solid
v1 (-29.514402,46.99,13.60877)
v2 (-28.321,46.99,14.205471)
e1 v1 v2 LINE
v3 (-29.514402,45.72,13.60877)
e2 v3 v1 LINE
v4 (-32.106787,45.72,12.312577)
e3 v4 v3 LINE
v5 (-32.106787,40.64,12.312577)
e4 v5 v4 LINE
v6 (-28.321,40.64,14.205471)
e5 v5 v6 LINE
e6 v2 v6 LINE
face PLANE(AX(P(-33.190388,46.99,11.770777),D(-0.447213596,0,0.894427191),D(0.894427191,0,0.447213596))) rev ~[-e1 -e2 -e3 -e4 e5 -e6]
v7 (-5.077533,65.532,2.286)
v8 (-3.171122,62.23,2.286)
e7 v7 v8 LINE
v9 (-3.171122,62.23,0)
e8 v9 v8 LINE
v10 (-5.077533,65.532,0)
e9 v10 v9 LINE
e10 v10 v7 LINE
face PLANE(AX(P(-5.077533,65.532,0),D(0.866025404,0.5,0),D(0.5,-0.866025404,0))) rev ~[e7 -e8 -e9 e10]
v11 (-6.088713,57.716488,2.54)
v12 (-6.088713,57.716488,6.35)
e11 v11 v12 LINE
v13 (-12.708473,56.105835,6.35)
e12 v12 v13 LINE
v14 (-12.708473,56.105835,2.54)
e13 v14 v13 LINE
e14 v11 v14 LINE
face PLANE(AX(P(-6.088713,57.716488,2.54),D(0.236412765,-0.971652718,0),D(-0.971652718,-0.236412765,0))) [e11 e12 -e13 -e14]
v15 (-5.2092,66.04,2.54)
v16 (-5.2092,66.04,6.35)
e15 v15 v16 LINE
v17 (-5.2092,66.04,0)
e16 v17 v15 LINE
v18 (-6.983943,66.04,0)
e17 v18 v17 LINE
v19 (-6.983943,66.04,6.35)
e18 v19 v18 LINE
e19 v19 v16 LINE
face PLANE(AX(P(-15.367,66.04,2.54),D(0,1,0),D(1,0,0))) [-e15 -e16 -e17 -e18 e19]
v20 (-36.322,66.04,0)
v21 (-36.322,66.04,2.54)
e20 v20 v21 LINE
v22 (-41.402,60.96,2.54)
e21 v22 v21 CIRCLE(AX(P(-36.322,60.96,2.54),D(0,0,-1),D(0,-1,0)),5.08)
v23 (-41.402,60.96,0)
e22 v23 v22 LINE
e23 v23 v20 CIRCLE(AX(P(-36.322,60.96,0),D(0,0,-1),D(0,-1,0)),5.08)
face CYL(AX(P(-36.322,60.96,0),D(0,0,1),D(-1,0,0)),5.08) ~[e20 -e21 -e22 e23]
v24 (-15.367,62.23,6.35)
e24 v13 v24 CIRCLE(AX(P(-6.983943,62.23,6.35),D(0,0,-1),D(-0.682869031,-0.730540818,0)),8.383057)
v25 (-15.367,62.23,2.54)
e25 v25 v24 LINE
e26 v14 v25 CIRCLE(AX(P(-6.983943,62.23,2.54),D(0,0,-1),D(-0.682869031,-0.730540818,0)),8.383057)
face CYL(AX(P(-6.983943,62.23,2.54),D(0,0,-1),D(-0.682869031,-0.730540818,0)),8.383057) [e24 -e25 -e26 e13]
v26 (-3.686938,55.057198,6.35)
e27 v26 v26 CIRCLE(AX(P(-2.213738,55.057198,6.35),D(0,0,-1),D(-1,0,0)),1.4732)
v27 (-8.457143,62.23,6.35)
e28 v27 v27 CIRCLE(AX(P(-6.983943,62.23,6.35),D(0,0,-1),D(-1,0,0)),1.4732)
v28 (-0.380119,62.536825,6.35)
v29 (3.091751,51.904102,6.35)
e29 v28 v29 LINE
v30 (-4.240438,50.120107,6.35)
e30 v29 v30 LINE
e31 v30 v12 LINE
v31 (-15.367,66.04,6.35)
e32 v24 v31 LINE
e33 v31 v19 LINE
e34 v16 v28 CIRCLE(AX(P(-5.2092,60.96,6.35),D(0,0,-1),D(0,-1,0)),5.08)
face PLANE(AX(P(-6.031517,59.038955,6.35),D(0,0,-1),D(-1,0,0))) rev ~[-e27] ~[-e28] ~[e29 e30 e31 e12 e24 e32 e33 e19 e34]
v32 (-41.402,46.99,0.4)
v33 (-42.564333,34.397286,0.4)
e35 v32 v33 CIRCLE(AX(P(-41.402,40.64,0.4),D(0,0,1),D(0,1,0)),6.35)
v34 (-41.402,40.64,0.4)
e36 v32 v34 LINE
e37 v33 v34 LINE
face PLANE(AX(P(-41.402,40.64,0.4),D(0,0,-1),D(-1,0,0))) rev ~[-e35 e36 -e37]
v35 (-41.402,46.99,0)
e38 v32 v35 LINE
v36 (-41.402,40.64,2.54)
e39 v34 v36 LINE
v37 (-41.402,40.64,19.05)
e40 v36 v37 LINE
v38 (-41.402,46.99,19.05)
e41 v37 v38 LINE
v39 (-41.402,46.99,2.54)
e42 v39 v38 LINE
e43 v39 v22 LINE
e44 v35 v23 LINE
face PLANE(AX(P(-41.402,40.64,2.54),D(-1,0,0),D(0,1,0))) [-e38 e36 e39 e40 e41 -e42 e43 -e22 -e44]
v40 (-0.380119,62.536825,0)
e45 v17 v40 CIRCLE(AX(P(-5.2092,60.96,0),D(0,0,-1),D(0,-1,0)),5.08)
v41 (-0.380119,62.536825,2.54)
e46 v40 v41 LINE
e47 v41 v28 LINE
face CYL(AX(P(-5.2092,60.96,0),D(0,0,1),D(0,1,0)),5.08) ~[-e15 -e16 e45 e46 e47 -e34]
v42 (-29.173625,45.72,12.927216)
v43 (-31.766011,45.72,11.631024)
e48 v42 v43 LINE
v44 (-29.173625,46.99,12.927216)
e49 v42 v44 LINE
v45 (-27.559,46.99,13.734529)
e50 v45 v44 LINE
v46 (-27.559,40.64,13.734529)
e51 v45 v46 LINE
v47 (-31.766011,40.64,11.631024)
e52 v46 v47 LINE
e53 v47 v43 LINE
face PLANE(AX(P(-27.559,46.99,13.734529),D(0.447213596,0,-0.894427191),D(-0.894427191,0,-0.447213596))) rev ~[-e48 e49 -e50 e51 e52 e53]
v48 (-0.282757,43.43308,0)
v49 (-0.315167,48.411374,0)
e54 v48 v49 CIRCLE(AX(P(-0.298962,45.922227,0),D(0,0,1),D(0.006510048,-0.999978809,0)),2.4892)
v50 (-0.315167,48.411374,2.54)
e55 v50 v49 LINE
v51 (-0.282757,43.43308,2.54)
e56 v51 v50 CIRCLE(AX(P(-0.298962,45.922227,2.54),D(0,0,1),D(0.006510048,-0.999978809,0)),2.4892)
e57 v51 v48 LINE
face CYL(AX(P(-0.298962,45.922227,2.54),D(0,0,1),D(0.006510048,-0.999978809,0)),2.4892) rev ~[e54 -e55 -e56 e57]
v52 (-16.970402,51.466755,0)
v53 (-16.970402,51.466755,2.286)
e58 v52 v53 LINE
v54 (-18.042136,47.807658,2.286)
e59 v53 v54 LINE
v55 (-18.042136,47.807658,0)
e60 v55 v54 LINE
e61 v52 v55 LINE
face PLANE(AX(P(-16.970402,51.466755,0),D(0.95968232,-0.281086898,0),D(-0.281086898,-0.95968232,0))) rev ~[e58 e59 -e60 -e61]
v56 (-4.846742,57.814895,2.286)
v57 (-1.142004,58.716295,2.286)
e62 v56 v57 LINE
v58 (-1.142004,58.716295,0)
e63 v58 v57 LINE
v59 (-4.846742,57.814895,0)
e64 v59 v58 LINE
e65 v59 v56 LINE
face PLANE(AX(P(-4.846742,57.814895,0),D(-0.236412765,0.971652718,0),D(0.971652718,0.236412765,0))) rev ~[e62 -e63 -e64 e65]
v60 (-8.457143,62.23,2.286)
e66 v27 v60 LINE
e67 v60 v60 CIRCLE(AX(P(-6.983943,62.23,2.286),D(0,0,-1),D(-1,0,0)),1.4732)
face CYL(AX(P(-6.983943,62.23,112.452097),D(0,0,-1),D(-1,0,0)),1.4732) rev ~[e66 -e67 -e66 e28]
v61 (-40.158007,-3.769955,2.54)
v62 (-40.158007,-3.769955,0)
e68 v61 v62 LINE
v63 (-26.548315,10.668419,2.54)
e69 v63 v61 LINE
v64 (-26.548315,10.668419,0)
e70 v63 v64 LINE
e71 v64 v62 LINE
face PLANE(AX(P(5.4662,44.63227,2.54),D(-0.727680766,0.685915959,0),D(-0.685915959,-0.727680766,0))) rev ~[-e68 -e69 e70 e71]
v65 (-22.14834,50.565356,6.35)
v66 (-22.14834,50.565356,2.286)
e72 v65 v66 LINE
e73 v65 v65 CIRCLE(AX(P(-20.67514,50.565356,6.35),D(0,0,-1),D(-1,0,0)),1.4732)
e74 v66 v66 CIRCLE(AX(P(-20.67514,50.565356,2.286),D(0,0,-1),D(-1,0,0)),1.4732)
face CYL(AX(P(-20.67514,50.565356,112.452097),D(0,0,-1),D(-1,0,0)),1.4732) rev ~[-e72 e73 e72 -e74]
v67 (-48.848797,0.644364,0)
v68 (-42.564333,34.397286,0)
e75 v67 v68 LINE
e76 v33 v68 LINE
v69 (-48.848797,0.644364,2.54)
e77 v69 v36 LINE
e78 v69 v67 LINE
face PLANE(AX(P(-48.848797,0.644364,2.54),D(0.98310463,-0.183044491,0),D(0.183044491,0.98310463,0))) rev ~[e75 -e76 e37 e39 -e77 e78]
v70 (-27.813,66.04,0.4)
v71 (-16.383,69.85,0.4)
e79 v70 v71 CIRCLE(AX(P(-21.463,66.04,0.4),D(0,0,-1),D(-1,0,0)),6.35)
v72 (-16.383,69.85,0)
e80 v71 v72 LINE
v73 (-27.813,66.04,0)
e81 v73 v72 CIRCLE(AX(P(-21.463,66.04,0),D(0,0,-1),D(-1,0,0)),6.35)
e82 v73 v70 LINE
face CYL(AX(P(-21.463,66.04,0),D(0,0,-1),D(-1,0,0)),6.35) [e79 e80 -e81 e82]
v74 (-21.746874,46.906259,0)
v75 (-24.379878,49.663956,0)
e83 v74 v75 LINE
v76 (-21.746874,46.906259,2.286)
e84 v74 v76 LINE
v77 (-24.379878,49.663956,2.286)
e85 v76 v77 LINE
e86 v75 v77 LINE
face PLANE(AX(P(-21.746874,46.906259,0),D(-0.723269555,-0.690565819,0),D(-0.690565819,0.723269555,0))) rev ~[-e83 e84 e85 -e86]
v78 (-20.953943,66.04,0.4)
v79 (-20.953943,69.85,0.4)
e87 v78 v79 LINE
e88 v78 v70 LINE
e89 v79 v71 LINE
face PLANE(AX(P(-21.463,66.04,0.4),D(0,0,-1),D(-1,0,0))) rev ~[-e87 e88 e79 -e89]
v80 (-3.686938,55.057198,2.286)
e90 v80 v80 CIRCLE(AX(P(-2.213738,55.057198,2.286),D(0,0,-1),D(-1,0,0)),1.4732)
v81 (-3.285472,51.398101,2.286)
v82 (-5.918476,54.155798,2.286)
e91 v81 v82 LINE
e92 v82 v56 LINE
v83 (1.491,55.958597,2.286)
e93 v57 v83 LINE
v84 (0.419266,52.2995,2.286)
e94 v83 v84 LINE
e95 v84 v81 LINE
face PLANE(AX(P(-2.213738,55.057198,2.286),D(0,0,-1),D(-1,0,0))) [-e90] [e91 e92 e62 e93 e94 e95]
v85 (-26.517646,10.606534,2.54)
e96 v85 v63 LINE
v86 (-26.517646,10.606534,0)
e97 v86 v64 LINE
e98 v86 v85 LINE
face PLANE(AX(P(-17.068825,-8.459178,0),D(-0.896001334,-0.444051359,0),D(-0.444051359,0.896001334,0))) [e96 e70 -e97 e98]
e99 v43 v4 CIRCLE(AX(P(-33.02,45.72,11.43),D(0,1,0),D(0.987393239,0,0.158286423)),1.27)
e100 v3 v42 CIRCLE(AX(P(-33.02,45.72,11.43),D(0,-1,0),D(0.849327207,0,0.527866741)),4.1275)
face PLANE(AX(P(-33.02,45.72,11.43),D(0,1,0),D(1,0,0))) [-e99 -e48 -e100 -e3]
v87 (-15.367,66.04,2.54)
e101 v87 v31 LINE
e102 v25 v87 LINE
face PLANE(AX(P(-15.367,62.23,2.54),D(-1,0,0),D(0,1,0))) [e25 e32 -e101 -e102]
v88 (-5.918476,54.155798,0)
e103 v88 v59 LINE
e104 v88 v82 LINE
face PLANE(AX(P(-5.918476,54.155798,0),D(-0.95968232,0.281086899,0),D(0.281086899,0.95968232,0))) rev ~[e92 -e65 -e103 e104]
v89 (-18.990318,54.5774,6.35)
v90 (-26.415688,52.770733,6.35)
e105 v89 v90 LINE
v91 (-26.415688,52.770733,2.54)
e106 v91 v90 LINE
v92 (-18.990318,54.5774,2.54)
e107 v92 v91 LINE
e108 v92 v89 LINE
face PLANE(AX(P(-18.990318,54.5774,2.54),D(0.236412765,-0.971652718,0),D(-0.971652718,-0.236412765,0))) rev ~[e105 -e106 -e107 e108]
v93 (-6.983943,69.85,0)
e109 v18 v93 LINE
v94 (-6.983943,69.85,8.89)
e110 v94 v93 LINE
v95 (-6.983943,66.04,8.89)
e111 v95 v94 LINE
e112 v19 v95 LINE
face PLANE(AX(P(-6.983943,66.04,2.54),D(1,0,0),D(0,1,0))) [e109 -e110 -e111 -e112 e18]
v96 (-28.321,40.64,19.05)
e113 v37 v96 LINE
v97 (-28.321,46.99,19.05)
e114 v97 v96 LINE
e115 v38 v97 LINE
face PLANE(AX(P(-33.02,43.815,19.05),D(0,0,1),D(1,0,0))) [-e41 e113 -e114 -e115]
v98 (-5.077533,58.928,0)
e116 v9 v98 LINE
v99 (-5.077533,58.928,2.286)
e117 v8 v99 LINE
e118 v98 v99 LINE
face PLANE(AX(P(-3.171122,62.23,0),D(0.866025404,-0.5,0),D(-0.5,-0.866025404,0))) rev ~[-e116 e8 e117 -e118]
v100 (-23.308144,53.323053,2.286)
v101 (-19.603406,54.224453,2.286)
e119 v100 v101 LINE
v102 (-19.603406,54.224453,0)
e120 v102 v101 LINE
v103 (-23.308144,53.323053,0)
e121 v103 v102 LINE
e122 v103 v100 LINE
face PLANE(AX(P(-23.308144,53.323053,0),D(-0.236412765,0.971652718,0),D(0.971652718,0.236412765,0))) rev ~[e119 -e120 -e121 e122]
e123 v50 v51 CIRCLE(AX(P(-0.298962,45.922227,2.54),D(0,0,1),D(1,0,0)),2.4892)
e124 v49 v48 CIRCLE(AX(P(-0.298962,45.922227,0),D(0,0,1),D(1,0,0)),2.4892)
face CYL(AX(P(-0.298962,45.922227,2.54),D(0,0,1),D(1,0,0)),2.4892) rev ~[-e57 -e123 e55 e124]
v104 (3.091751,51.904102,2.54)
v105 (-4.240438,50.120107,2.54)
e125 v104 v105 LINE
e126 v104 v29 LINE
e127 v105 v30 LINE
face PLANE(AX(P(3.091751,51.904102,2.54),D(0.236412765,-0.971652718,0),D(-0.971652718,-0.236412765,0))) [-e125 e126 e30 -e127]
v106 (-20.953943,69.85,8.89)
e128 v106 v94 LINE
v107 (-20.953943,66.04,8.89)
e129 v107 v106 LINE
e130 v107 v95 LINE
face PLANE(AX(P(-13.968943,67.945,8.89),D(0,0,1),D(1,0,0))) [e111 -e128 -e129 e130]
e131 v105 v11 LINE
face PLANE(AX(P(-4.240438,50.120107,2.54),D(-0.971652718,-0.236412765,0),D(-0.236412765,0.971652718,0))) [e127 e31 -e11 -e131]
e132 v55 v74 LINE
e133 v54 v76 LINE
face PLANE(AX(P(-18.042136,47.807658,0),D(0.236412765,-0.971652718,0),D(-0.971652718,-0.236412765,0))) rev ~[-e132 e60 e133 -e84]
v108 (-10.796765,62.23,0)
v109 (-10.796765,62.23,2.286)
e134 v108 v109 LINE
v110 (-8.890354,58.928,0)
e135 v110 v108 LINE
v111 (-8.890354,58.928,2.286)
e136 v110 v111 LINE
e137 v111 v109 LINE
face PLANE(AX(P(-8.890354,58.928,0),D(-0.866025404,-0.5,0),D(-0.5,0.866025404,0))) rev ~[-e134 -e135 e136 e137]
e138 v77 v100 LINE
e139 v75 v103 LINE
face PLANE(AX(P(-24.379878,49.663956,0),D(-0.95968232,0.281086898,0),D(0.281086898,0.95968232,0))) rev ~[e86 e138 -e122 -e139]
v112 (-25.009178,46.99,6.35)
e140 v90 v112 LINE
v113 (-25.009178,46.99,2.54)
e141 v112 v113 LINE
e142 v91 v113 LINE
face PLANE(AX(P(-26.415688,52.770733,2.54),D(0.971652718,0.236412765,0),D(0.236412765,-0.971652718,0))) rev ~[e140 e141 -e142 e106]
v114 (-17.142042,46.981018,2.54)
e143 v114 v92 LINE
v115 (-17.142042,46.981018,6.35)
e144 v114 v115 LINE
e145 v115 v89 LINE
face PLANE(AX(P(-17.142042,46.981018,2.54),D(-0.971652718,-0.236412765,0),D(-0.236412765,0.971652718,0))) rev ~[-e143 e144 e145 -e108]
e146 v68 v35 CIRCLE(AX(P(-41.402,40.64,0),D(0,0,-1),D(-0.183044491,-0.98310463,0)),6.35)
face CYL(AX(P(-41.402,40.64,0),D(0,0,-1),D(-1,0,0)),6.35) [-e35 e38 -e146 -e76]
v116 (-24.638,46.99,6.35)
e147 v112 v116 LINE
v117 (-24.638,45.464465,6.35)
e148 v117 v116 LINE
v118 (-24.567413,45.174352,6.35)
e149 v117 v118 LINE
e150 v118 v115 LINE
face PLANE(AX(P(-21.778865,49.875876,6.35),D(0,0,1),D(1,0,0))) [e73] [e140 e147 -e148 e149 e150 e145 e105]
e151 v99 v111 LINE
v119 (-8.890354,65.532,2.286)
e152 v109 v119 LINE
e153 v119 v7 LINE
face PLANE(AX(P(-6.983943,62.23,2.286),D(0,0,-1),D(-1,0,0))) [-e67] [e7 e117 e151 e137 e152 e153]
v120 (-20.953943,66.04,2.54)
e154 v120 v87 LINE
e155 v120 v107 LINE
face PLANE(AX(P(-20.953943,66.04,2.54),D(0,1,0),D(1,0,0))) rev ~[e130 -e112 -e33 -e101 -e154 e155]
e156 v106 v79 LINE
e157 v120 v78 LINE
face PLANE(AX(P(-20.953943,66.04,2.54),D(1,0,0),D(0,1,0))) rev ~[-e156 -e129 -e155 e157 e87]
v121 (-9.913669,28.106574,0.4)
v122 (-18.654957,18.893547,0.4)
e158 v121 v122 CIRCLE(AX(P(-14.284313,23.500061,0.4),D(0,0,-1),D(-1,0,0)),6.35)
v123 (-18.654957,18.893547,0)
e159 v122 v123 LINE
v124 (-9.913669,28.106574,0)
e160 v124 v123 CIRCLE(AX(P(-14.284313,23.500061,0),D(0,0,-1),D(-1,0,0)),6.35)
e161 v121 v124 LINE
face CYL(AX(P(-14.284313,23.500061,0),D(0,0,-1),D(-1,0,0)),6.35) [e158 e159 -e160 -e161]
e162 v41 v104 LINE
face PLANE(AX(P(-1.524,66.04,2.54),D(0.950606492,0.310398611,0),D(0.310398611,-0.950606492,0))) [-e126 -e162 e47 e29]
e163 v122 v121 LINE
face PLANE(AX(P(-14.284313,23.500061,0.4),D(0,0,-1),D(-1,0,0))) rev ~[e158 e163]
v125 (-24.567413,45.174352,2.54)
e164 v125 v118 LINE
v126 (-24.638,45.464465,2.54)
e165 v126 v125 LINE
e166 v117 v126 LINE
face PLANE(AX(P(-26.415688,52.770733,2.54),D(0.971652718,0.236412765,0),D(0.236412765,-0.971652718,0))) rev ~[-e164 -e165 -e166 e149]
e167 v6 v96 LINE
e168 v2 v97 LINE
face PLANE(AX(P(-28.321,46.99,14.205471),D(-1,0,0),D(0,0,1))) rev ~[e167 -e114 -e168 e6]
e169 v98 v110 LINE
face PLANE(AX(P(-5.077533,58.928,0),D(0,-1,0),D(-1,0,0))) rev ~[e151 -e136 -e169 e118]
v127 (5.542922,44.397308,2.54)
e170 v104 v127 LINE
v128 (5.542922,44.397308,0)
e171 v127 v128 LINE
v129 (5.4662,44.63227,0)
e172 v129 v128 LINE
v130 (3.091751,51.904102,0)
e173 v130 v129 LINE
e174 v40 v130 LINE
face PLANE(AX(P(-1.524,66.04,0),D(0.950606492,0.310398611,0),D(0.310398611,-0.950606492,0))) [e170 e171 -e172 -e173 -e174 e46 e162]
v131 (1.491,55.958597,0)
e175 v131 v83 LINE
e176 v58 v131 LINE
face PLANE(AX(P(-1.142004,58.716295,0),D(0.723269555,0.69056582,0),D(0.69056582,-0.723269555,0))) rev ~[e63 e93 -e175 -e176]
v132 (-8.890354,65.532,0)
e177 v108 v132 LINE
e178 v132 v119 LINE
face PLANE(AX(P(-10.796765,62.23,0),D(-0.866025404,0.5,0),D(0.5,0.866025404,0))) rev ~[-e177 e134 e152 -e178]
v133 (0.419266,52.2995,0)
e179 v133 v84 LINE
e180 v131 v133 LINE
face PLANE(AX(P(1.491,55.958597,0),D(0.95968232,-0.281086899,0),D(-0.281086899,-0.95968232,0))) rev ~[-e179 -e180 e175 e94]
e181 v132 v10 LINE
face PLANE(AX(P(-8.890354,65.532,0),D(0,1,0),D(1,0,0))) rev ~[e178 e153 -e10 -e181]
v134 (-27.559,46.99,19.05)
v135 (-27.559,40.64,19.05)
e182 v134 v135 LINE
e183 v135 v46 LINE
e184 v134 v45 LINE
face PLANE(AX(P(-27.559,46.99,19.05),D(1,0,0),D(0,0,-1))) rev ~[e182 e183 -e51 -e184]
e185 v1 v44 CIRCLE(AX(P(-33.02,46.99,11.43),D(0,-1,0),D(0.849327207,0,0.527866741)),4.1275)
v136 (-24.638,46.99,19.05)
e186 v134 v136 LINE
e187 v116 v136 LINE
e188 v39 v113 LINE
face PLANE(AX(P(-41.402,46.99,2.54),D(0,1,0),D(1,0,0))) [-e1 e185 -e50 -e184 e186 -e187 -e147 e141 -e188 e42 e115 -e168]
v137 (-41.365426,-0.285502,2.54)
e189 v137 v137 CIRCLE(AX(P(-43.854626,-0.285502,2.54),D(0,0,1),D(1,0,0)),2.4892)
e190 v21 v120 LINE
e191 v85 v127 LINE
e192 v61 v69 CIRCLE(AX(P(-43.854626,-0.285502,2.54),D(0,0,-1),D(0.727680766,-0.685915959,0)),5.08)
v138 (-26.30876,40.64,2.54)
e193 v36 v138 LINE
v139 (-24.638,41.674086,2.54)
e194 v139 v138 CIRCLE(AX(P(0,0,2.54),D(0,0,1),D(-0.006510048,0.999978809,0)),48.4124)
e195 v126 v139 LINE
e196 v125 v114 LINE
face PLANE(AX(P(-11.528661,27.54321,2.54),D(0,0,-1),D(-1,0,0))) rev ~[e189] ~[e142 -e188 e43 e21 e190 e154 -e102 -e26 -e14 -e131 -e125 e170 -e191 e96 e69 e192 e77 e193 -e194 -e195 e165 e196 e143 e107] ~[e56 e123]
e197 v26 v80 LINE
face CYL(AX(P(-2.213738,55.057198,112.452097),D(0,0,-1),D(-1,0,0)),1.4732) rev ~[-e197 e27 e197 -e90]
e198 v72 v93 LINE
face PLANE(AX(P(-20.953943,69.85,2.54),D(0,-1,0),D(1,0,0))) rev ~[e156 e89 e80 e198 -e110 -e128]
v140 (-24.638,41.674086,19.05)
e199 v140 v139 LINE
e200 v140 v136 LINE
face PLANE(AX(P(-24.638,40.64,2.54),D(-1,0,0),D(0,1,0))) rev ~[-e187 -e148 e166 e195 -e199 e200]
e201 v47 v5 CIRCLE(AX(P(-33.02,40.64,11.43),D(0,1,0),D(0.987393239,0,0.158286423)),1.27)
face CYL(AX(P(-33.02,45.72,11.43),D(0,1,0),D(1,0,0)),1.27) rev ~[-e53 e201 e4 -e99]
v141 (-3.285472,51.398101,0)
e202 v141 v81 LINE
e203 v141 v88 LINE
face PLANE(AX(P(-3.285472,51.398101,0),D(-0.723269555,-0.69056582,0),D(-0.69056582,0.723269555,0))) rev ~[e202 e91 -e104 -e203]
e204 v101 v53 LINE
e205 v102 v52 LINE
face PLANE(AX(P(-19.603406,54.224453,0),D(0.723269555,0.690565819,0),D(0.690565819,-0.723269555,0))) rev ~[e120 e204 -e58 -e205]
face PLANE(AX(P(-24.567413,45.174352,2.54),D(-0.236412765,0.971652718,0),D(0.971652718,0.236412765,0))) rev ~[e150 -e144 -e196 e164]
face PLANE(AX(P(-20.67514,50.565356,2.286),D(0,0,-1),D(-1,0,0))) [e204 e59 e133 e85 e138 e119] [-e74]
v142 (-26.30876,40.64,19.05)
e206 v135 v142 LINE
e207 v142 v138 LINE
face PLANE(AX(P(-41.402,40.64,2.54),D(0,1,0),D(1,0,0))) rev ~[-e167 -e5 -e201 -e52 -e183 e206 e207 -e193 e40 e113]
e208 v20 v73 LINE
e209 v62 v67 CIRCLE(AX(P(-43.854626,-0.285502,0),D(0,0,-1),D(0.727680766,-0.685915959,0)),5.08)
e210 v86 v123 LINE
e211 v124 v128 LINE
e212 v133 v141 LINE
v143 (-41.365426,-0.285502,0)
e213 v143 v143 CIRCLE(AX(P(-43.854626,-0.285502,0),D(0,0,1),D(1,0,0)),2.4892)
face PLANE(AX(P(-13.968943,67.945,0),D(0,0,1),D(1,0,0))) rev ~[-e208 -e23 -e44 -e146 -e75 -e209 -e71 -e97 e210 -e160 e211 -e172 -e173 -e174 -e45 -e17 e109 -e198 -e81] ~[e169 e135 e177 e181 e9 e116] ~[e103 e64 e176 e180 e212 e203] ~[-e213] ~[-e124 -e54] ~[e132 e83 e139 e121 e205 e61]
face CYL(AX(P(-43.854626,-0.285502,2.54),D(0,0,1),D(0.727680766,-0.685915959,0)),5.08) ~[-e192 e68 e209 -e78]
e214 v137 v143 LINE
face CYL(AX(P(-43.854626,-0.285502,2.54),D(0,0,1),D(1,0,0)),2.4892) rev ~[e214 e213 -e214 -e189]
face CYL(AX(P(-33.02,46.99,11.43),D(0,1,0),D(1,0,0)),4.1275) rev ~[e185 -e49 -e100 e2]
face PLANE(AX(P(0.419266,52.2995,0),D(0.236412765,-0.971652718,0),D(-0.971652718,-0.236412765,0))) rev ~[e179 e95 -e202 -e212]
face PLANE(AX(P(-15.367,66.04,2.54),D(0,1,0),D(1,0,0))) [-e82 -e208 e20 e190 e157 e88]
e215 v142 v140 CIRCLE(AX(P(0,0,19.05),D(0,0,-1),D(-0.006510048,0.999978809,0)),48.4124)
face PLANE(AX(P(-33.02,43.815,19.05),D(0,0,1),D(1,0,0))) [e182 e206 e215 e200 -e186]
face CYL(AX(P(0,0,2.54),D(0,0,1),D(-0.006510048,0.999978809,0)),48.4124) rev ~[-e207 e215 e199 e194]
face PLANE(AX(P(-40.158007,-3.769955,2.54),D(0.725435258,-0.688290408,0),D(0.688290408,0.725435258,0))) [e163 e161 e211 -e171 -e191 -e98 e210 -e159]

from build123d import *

# Parameters (mm, degrees)
SKETCH2_R                = 3.81
BOSS_EXTRUDE1_DEPTH      = 2.54
SKETCH5_W                = 16.764
SKETCH5_H                = 6.35
BOSS_EXTRUDE2_DEPTH      = 16.51
SKETCH6_R                = 4.1275
CUT_EXTRUDE2_DEPTH       = 1.27
SKETCH7_R                = 1.27
CUT_EXTRUDE3_DEPTH       = 65.77
CUT_EXTRUDE4_DEPTH       = 2.286
BOSS_EXTRUDE3_DEPTH      = 3.81
F_4_CLEARANCE_HOLE1_D    = 2.9464
SKETCH14_W               = 13.97
SKETCH14_H               = 3.81
BOSS_EXTRUDE6_DEPTH      = 6.35
BOSS_EXTRUDE6_DEPTH_BACK = 2.54
FILLET1_R                = 5.08
CUT_EXTRUDE5_DEPTH       = 17.51
CUT_EXTRUDE5_DEPTH_BACK  = 3.54
SKETCH19_R               = 2.4892
BOSS_EXTRUDE8_DEPTH      = 2.54
CUT_EXTRUDE8_DEPTH       = 2.54
CUT_EXTRUDE9_DEPTH       = 53.355501773
SKETCH13_R               = 6.35
PRINT_TABS_DEPTH         = 0.4


with BuildPart() as part:
    # Sketch2 → Boss-Extrude1 (new body)
    with BuildSketch(Plane.XY):
        with BuildLine():
            Line((-17.068825413, -8.459178389), (-41.402, 40.64))
            Line((-41.402, 40.64), (-41.402, 66.04))
            Line((-41.402, 66.04), (-1.524, 66.04))
            Line((-1.524, 66.04), (18.109053667, 5.913093546))
            ThreePointArc((18.109053667, 5.913093546), (7.204933647, -17.634949139), (-17.068825413, -8.459178389))
        make_face()
        Circle(SKETCH2_R, mode=Mode.SUBTRACT)
    extrude(amount=BOSS_EXTRUDE1_DEPTH)

    # Sketch5 → Boss-Extrude2 (add)
    with BuildSketch(Plane.XY.offset(2.54)):
        with Locations((-33.02, 43.815)):
            Rectangle(SKETCH5_W, SKETCH5_H)
    extrude(amount=BOSS_EXTRUDE2_DEPTH)

    # Sketch6 → Cut-Extrude2 (cut)
    with BuildSketch(Plane(origin=(0, 46.99, 0), x_dir=(1, 0, 0), z_dir=(0, 1, 0))):
        with Locations((-33.02, -11.43)):
            Circle(SKETCH6_R)
    extrude(amount=-CUT_EXTRUDE2_DEPTH, mode=Mode.SUBTRACT)

    # Sketch7 → Cut-Extrude3 (cut, through all)
    with BuildSketch(Plane(origin=(0, 45.72, 0), x_dir=(1, 0, 0), z_dir=(0, 1, 0))):
        with Locations((-33.02, -11.43)):
            Circle(SKETCH7_R)
    extrude(amount=-CUT_EXTRUDE3_DEPTH, mode=Mode.SUBTRACT)

    # Sketch9 → Cut-Extrude4 (cut)
    with BuildSketch(Plane(origin=(0, 0, 0), x_dir=(-1, 0, 0), z_dir=(0, 0, -1))):
        Polygon((3.171122265, 62.23), (5.077532854, 58.928), (8.890354032, 58.928), (10.796764621, 62.23), (8.890354032, 65.532), (5.077532854, 65.532), align=None)
        Polygon((24.379877895, 49.663956202), (23.308143816, 53.323053276), (19.603405755, 54.224452874), (16.970401774, 51.466755398), (18.042135853, 47.807658324), (21.746873914, 46.906258726), align=None)
        Polygon((5.918476139, 54.15579827), (4.846742059, 57.814895344), (1.142003999, 58.716294942), (-1.490999983, 55.958597466), (-0.419265903, 52.299500392), (3.285472157, 51.398100794), align=None)
    extrude(amount=-CUT_EXTRUDE4_DEPTH, mode=Mode.SUBTRACT)

    # Sketch8 → Boss-Extrude3 (add)
    with BuildSketch(Plane.XY.offset(2.54)):
        with BuildLine():
            Line((-15.367, 66.04), (-6.983943443, 66.04))
            Line((-6.983943443, 66.04), (-1.524, 66.04))
            Line((-1.524, 66.04), (3.09175139, 51.904101595))
            Line((3.09175139, 51.904101595), (-4.240438106, 50.120107003))
            Line((-4.240438106, 50.120107003), (-6.088713216, 57.716488409))
            Line((-6.088713216, 57.716488409), (-12.708473154, 56.10583501))
            ThreePointArc((-12.708473154, 56.10583501), (-14.673699407, 58.891843255), (-15.367, 62.23))
            Line((-15.367, 62.23), (-15.367, 66.04))
        make_face()
        Polygon((-17.142042414, 46.981018422), (-18.990317524, 54.577399829), (-26.415687706, 52.770733449), (-24.567412596, 45.174352043), align=None)
    extrude(amount=BOSS_EXTRUDE3_DEPTH)

    # #4 Clearance Hole1 (through all)
    with Locations(Plane.XY.offset(6.35)):
        with Locations((-6.983943443, 62.23), (-20.675139834, 50.5653558), (-2.213738078, 55.057197868)):
            Hole(F_4_CLEARANCE_HOLE1_D / 2)

    # Sketch14 → Boss-Extrude6 (add, two sides)
    with BuildSketch(Plane.XY.offset(2.54)) as boss_extrude6_sk:
        with Locations((-13.968943443, 67.945)):
            Rectangle(SKETCH14_W, SKETCH14_H)
    extrude(amount=BOSS_EXTRUDE6_DEPTH)
    extrude(boss_extrude6_sk.sketch, amount=-BOSS_EXTRUDE6_DEPTH_BACK)

    # Fillet1
    fillet1_edges = [part.edges().sort_by_distance(p)[0] for p in [
        (-1.524, 66.04, 3.175),
        (-41.402, 66.04, 1.27),
    ]]
    fillet(fillet1_edges, radius=FILLET1_R)

    # Sketch15 → Cut-Extrude5 (cut, two sides)
    with BuildSketch(Plane.XY.offset(2.54)) as cut_extrude5_sk:
        with BuildLine():
            ThreePointArc((-0.315167053, 48.411374113), (-18.310138041, 44.816284079), (-33.674369734, 34.782140486))
            ThreePointArc((-33.674369734, 34.782140486), (-33.731327517, 31.262340905), (-30.211527936, 31.205383122))
            ThreePointArc((-30.211527936, 31.205383122), (-16.427248714, 40.207684038), (-0.28275743, 43.433079608))
            ThreePointArc((-0.28275743, 43.433079608), (2.190185011, 45.938431672), (-0.315167053, 48.411374113))
        make_face()
    extrude(amount=CUT_EXTRUDE5_DEPTH, mode=Mode.SUBTRACT)
    extrude(cut_extrude5_sk.sketch, amount=-CUT_EXTRUDE5_DEPTH_BACK, mode=Mode.SUBTRACT)

    # Sketch19 → Boss-Extrude8 (add, through all)
    with BuildSketch(Plane.XY.offset(2.54)):
        with BuildLine():
            Line((5.466200245, 44.632269783), (-40.158007355, -3.769954845))
            ThreePointArc((-40.158007355, -3.769954845), (-46.15516131, -4.814733016), (-48.848797168, 0.64436424))
            Line((-48.848797168, 0.64436424), (-41.402, 40.64))
            Line((-41.402, 40.64), (3.09175139, 51.904101595))
            Line((3.09175139, 51.904101595), (5.466200245, 44.632269783))
        make_face()
        with Locations((-0.298962241, 45.92222686)):
            Circle(SKETCH19_R, mode=Mode.SUBTRACT)
        with Locations((-43.854625645, -0.285501773)):
            Circle(SKETCH19_R, mode=Mode.SUBTRACT)
    extrude(amount=-BOSS_EXTRUDE8_DEPTH)

    # Sketch20 → Cut-Extrude8 (cut)
    with BuildSketch(Plane.XY.offset(2.54)):
        Polygon((-40.158007355, -3.769954845), (10.729493517, 49.863783044), (48.07174347, 14.433588323), (-7.673080914, -44.319607422), align=None)
    extrude(amount=-CUT_EXTRUDE8_DEPTH, mode=Mode.SUBTRACT)

    # Sketch21 → Cut-Extrude9 (cut, through all)
    with BuildSketch(Plane(origin=(0, 46.99, 0), x_dir=(1, 0, 0), z_dir=(0, 1, 0))):
        Polygon((-27.559, -19.05), (-27.559, -13.73452905), (-32.84961162, -11.08922324), (-33.19038838, -11.77077676), (-28.321, -14.20547095), (-28.321, -19.05), align=None)
    extrude(amount=-CUT_EXTRUDE9_DEPTH, mode=Mode.SUBTRACT)

    # Sketch13 → Print Tabs (add)
    with BuildSketch(Plane(origin=(0, 0, 0), x_dir=(-1, 0, 0), z_dir=(0, 0, -1))):
        with Locations((14.284313144, 23.500060577)):
            Circle(SKETCH13_R)
        with Locations((21.463, 66.04)):
            Circle(SKETCH13_R)
        with Locations((41.402, 40.64)):
            Circle(SKETCH13_R)
    extrude(amount=-PRINT_TABS_DEPTH)


solid = part.part
